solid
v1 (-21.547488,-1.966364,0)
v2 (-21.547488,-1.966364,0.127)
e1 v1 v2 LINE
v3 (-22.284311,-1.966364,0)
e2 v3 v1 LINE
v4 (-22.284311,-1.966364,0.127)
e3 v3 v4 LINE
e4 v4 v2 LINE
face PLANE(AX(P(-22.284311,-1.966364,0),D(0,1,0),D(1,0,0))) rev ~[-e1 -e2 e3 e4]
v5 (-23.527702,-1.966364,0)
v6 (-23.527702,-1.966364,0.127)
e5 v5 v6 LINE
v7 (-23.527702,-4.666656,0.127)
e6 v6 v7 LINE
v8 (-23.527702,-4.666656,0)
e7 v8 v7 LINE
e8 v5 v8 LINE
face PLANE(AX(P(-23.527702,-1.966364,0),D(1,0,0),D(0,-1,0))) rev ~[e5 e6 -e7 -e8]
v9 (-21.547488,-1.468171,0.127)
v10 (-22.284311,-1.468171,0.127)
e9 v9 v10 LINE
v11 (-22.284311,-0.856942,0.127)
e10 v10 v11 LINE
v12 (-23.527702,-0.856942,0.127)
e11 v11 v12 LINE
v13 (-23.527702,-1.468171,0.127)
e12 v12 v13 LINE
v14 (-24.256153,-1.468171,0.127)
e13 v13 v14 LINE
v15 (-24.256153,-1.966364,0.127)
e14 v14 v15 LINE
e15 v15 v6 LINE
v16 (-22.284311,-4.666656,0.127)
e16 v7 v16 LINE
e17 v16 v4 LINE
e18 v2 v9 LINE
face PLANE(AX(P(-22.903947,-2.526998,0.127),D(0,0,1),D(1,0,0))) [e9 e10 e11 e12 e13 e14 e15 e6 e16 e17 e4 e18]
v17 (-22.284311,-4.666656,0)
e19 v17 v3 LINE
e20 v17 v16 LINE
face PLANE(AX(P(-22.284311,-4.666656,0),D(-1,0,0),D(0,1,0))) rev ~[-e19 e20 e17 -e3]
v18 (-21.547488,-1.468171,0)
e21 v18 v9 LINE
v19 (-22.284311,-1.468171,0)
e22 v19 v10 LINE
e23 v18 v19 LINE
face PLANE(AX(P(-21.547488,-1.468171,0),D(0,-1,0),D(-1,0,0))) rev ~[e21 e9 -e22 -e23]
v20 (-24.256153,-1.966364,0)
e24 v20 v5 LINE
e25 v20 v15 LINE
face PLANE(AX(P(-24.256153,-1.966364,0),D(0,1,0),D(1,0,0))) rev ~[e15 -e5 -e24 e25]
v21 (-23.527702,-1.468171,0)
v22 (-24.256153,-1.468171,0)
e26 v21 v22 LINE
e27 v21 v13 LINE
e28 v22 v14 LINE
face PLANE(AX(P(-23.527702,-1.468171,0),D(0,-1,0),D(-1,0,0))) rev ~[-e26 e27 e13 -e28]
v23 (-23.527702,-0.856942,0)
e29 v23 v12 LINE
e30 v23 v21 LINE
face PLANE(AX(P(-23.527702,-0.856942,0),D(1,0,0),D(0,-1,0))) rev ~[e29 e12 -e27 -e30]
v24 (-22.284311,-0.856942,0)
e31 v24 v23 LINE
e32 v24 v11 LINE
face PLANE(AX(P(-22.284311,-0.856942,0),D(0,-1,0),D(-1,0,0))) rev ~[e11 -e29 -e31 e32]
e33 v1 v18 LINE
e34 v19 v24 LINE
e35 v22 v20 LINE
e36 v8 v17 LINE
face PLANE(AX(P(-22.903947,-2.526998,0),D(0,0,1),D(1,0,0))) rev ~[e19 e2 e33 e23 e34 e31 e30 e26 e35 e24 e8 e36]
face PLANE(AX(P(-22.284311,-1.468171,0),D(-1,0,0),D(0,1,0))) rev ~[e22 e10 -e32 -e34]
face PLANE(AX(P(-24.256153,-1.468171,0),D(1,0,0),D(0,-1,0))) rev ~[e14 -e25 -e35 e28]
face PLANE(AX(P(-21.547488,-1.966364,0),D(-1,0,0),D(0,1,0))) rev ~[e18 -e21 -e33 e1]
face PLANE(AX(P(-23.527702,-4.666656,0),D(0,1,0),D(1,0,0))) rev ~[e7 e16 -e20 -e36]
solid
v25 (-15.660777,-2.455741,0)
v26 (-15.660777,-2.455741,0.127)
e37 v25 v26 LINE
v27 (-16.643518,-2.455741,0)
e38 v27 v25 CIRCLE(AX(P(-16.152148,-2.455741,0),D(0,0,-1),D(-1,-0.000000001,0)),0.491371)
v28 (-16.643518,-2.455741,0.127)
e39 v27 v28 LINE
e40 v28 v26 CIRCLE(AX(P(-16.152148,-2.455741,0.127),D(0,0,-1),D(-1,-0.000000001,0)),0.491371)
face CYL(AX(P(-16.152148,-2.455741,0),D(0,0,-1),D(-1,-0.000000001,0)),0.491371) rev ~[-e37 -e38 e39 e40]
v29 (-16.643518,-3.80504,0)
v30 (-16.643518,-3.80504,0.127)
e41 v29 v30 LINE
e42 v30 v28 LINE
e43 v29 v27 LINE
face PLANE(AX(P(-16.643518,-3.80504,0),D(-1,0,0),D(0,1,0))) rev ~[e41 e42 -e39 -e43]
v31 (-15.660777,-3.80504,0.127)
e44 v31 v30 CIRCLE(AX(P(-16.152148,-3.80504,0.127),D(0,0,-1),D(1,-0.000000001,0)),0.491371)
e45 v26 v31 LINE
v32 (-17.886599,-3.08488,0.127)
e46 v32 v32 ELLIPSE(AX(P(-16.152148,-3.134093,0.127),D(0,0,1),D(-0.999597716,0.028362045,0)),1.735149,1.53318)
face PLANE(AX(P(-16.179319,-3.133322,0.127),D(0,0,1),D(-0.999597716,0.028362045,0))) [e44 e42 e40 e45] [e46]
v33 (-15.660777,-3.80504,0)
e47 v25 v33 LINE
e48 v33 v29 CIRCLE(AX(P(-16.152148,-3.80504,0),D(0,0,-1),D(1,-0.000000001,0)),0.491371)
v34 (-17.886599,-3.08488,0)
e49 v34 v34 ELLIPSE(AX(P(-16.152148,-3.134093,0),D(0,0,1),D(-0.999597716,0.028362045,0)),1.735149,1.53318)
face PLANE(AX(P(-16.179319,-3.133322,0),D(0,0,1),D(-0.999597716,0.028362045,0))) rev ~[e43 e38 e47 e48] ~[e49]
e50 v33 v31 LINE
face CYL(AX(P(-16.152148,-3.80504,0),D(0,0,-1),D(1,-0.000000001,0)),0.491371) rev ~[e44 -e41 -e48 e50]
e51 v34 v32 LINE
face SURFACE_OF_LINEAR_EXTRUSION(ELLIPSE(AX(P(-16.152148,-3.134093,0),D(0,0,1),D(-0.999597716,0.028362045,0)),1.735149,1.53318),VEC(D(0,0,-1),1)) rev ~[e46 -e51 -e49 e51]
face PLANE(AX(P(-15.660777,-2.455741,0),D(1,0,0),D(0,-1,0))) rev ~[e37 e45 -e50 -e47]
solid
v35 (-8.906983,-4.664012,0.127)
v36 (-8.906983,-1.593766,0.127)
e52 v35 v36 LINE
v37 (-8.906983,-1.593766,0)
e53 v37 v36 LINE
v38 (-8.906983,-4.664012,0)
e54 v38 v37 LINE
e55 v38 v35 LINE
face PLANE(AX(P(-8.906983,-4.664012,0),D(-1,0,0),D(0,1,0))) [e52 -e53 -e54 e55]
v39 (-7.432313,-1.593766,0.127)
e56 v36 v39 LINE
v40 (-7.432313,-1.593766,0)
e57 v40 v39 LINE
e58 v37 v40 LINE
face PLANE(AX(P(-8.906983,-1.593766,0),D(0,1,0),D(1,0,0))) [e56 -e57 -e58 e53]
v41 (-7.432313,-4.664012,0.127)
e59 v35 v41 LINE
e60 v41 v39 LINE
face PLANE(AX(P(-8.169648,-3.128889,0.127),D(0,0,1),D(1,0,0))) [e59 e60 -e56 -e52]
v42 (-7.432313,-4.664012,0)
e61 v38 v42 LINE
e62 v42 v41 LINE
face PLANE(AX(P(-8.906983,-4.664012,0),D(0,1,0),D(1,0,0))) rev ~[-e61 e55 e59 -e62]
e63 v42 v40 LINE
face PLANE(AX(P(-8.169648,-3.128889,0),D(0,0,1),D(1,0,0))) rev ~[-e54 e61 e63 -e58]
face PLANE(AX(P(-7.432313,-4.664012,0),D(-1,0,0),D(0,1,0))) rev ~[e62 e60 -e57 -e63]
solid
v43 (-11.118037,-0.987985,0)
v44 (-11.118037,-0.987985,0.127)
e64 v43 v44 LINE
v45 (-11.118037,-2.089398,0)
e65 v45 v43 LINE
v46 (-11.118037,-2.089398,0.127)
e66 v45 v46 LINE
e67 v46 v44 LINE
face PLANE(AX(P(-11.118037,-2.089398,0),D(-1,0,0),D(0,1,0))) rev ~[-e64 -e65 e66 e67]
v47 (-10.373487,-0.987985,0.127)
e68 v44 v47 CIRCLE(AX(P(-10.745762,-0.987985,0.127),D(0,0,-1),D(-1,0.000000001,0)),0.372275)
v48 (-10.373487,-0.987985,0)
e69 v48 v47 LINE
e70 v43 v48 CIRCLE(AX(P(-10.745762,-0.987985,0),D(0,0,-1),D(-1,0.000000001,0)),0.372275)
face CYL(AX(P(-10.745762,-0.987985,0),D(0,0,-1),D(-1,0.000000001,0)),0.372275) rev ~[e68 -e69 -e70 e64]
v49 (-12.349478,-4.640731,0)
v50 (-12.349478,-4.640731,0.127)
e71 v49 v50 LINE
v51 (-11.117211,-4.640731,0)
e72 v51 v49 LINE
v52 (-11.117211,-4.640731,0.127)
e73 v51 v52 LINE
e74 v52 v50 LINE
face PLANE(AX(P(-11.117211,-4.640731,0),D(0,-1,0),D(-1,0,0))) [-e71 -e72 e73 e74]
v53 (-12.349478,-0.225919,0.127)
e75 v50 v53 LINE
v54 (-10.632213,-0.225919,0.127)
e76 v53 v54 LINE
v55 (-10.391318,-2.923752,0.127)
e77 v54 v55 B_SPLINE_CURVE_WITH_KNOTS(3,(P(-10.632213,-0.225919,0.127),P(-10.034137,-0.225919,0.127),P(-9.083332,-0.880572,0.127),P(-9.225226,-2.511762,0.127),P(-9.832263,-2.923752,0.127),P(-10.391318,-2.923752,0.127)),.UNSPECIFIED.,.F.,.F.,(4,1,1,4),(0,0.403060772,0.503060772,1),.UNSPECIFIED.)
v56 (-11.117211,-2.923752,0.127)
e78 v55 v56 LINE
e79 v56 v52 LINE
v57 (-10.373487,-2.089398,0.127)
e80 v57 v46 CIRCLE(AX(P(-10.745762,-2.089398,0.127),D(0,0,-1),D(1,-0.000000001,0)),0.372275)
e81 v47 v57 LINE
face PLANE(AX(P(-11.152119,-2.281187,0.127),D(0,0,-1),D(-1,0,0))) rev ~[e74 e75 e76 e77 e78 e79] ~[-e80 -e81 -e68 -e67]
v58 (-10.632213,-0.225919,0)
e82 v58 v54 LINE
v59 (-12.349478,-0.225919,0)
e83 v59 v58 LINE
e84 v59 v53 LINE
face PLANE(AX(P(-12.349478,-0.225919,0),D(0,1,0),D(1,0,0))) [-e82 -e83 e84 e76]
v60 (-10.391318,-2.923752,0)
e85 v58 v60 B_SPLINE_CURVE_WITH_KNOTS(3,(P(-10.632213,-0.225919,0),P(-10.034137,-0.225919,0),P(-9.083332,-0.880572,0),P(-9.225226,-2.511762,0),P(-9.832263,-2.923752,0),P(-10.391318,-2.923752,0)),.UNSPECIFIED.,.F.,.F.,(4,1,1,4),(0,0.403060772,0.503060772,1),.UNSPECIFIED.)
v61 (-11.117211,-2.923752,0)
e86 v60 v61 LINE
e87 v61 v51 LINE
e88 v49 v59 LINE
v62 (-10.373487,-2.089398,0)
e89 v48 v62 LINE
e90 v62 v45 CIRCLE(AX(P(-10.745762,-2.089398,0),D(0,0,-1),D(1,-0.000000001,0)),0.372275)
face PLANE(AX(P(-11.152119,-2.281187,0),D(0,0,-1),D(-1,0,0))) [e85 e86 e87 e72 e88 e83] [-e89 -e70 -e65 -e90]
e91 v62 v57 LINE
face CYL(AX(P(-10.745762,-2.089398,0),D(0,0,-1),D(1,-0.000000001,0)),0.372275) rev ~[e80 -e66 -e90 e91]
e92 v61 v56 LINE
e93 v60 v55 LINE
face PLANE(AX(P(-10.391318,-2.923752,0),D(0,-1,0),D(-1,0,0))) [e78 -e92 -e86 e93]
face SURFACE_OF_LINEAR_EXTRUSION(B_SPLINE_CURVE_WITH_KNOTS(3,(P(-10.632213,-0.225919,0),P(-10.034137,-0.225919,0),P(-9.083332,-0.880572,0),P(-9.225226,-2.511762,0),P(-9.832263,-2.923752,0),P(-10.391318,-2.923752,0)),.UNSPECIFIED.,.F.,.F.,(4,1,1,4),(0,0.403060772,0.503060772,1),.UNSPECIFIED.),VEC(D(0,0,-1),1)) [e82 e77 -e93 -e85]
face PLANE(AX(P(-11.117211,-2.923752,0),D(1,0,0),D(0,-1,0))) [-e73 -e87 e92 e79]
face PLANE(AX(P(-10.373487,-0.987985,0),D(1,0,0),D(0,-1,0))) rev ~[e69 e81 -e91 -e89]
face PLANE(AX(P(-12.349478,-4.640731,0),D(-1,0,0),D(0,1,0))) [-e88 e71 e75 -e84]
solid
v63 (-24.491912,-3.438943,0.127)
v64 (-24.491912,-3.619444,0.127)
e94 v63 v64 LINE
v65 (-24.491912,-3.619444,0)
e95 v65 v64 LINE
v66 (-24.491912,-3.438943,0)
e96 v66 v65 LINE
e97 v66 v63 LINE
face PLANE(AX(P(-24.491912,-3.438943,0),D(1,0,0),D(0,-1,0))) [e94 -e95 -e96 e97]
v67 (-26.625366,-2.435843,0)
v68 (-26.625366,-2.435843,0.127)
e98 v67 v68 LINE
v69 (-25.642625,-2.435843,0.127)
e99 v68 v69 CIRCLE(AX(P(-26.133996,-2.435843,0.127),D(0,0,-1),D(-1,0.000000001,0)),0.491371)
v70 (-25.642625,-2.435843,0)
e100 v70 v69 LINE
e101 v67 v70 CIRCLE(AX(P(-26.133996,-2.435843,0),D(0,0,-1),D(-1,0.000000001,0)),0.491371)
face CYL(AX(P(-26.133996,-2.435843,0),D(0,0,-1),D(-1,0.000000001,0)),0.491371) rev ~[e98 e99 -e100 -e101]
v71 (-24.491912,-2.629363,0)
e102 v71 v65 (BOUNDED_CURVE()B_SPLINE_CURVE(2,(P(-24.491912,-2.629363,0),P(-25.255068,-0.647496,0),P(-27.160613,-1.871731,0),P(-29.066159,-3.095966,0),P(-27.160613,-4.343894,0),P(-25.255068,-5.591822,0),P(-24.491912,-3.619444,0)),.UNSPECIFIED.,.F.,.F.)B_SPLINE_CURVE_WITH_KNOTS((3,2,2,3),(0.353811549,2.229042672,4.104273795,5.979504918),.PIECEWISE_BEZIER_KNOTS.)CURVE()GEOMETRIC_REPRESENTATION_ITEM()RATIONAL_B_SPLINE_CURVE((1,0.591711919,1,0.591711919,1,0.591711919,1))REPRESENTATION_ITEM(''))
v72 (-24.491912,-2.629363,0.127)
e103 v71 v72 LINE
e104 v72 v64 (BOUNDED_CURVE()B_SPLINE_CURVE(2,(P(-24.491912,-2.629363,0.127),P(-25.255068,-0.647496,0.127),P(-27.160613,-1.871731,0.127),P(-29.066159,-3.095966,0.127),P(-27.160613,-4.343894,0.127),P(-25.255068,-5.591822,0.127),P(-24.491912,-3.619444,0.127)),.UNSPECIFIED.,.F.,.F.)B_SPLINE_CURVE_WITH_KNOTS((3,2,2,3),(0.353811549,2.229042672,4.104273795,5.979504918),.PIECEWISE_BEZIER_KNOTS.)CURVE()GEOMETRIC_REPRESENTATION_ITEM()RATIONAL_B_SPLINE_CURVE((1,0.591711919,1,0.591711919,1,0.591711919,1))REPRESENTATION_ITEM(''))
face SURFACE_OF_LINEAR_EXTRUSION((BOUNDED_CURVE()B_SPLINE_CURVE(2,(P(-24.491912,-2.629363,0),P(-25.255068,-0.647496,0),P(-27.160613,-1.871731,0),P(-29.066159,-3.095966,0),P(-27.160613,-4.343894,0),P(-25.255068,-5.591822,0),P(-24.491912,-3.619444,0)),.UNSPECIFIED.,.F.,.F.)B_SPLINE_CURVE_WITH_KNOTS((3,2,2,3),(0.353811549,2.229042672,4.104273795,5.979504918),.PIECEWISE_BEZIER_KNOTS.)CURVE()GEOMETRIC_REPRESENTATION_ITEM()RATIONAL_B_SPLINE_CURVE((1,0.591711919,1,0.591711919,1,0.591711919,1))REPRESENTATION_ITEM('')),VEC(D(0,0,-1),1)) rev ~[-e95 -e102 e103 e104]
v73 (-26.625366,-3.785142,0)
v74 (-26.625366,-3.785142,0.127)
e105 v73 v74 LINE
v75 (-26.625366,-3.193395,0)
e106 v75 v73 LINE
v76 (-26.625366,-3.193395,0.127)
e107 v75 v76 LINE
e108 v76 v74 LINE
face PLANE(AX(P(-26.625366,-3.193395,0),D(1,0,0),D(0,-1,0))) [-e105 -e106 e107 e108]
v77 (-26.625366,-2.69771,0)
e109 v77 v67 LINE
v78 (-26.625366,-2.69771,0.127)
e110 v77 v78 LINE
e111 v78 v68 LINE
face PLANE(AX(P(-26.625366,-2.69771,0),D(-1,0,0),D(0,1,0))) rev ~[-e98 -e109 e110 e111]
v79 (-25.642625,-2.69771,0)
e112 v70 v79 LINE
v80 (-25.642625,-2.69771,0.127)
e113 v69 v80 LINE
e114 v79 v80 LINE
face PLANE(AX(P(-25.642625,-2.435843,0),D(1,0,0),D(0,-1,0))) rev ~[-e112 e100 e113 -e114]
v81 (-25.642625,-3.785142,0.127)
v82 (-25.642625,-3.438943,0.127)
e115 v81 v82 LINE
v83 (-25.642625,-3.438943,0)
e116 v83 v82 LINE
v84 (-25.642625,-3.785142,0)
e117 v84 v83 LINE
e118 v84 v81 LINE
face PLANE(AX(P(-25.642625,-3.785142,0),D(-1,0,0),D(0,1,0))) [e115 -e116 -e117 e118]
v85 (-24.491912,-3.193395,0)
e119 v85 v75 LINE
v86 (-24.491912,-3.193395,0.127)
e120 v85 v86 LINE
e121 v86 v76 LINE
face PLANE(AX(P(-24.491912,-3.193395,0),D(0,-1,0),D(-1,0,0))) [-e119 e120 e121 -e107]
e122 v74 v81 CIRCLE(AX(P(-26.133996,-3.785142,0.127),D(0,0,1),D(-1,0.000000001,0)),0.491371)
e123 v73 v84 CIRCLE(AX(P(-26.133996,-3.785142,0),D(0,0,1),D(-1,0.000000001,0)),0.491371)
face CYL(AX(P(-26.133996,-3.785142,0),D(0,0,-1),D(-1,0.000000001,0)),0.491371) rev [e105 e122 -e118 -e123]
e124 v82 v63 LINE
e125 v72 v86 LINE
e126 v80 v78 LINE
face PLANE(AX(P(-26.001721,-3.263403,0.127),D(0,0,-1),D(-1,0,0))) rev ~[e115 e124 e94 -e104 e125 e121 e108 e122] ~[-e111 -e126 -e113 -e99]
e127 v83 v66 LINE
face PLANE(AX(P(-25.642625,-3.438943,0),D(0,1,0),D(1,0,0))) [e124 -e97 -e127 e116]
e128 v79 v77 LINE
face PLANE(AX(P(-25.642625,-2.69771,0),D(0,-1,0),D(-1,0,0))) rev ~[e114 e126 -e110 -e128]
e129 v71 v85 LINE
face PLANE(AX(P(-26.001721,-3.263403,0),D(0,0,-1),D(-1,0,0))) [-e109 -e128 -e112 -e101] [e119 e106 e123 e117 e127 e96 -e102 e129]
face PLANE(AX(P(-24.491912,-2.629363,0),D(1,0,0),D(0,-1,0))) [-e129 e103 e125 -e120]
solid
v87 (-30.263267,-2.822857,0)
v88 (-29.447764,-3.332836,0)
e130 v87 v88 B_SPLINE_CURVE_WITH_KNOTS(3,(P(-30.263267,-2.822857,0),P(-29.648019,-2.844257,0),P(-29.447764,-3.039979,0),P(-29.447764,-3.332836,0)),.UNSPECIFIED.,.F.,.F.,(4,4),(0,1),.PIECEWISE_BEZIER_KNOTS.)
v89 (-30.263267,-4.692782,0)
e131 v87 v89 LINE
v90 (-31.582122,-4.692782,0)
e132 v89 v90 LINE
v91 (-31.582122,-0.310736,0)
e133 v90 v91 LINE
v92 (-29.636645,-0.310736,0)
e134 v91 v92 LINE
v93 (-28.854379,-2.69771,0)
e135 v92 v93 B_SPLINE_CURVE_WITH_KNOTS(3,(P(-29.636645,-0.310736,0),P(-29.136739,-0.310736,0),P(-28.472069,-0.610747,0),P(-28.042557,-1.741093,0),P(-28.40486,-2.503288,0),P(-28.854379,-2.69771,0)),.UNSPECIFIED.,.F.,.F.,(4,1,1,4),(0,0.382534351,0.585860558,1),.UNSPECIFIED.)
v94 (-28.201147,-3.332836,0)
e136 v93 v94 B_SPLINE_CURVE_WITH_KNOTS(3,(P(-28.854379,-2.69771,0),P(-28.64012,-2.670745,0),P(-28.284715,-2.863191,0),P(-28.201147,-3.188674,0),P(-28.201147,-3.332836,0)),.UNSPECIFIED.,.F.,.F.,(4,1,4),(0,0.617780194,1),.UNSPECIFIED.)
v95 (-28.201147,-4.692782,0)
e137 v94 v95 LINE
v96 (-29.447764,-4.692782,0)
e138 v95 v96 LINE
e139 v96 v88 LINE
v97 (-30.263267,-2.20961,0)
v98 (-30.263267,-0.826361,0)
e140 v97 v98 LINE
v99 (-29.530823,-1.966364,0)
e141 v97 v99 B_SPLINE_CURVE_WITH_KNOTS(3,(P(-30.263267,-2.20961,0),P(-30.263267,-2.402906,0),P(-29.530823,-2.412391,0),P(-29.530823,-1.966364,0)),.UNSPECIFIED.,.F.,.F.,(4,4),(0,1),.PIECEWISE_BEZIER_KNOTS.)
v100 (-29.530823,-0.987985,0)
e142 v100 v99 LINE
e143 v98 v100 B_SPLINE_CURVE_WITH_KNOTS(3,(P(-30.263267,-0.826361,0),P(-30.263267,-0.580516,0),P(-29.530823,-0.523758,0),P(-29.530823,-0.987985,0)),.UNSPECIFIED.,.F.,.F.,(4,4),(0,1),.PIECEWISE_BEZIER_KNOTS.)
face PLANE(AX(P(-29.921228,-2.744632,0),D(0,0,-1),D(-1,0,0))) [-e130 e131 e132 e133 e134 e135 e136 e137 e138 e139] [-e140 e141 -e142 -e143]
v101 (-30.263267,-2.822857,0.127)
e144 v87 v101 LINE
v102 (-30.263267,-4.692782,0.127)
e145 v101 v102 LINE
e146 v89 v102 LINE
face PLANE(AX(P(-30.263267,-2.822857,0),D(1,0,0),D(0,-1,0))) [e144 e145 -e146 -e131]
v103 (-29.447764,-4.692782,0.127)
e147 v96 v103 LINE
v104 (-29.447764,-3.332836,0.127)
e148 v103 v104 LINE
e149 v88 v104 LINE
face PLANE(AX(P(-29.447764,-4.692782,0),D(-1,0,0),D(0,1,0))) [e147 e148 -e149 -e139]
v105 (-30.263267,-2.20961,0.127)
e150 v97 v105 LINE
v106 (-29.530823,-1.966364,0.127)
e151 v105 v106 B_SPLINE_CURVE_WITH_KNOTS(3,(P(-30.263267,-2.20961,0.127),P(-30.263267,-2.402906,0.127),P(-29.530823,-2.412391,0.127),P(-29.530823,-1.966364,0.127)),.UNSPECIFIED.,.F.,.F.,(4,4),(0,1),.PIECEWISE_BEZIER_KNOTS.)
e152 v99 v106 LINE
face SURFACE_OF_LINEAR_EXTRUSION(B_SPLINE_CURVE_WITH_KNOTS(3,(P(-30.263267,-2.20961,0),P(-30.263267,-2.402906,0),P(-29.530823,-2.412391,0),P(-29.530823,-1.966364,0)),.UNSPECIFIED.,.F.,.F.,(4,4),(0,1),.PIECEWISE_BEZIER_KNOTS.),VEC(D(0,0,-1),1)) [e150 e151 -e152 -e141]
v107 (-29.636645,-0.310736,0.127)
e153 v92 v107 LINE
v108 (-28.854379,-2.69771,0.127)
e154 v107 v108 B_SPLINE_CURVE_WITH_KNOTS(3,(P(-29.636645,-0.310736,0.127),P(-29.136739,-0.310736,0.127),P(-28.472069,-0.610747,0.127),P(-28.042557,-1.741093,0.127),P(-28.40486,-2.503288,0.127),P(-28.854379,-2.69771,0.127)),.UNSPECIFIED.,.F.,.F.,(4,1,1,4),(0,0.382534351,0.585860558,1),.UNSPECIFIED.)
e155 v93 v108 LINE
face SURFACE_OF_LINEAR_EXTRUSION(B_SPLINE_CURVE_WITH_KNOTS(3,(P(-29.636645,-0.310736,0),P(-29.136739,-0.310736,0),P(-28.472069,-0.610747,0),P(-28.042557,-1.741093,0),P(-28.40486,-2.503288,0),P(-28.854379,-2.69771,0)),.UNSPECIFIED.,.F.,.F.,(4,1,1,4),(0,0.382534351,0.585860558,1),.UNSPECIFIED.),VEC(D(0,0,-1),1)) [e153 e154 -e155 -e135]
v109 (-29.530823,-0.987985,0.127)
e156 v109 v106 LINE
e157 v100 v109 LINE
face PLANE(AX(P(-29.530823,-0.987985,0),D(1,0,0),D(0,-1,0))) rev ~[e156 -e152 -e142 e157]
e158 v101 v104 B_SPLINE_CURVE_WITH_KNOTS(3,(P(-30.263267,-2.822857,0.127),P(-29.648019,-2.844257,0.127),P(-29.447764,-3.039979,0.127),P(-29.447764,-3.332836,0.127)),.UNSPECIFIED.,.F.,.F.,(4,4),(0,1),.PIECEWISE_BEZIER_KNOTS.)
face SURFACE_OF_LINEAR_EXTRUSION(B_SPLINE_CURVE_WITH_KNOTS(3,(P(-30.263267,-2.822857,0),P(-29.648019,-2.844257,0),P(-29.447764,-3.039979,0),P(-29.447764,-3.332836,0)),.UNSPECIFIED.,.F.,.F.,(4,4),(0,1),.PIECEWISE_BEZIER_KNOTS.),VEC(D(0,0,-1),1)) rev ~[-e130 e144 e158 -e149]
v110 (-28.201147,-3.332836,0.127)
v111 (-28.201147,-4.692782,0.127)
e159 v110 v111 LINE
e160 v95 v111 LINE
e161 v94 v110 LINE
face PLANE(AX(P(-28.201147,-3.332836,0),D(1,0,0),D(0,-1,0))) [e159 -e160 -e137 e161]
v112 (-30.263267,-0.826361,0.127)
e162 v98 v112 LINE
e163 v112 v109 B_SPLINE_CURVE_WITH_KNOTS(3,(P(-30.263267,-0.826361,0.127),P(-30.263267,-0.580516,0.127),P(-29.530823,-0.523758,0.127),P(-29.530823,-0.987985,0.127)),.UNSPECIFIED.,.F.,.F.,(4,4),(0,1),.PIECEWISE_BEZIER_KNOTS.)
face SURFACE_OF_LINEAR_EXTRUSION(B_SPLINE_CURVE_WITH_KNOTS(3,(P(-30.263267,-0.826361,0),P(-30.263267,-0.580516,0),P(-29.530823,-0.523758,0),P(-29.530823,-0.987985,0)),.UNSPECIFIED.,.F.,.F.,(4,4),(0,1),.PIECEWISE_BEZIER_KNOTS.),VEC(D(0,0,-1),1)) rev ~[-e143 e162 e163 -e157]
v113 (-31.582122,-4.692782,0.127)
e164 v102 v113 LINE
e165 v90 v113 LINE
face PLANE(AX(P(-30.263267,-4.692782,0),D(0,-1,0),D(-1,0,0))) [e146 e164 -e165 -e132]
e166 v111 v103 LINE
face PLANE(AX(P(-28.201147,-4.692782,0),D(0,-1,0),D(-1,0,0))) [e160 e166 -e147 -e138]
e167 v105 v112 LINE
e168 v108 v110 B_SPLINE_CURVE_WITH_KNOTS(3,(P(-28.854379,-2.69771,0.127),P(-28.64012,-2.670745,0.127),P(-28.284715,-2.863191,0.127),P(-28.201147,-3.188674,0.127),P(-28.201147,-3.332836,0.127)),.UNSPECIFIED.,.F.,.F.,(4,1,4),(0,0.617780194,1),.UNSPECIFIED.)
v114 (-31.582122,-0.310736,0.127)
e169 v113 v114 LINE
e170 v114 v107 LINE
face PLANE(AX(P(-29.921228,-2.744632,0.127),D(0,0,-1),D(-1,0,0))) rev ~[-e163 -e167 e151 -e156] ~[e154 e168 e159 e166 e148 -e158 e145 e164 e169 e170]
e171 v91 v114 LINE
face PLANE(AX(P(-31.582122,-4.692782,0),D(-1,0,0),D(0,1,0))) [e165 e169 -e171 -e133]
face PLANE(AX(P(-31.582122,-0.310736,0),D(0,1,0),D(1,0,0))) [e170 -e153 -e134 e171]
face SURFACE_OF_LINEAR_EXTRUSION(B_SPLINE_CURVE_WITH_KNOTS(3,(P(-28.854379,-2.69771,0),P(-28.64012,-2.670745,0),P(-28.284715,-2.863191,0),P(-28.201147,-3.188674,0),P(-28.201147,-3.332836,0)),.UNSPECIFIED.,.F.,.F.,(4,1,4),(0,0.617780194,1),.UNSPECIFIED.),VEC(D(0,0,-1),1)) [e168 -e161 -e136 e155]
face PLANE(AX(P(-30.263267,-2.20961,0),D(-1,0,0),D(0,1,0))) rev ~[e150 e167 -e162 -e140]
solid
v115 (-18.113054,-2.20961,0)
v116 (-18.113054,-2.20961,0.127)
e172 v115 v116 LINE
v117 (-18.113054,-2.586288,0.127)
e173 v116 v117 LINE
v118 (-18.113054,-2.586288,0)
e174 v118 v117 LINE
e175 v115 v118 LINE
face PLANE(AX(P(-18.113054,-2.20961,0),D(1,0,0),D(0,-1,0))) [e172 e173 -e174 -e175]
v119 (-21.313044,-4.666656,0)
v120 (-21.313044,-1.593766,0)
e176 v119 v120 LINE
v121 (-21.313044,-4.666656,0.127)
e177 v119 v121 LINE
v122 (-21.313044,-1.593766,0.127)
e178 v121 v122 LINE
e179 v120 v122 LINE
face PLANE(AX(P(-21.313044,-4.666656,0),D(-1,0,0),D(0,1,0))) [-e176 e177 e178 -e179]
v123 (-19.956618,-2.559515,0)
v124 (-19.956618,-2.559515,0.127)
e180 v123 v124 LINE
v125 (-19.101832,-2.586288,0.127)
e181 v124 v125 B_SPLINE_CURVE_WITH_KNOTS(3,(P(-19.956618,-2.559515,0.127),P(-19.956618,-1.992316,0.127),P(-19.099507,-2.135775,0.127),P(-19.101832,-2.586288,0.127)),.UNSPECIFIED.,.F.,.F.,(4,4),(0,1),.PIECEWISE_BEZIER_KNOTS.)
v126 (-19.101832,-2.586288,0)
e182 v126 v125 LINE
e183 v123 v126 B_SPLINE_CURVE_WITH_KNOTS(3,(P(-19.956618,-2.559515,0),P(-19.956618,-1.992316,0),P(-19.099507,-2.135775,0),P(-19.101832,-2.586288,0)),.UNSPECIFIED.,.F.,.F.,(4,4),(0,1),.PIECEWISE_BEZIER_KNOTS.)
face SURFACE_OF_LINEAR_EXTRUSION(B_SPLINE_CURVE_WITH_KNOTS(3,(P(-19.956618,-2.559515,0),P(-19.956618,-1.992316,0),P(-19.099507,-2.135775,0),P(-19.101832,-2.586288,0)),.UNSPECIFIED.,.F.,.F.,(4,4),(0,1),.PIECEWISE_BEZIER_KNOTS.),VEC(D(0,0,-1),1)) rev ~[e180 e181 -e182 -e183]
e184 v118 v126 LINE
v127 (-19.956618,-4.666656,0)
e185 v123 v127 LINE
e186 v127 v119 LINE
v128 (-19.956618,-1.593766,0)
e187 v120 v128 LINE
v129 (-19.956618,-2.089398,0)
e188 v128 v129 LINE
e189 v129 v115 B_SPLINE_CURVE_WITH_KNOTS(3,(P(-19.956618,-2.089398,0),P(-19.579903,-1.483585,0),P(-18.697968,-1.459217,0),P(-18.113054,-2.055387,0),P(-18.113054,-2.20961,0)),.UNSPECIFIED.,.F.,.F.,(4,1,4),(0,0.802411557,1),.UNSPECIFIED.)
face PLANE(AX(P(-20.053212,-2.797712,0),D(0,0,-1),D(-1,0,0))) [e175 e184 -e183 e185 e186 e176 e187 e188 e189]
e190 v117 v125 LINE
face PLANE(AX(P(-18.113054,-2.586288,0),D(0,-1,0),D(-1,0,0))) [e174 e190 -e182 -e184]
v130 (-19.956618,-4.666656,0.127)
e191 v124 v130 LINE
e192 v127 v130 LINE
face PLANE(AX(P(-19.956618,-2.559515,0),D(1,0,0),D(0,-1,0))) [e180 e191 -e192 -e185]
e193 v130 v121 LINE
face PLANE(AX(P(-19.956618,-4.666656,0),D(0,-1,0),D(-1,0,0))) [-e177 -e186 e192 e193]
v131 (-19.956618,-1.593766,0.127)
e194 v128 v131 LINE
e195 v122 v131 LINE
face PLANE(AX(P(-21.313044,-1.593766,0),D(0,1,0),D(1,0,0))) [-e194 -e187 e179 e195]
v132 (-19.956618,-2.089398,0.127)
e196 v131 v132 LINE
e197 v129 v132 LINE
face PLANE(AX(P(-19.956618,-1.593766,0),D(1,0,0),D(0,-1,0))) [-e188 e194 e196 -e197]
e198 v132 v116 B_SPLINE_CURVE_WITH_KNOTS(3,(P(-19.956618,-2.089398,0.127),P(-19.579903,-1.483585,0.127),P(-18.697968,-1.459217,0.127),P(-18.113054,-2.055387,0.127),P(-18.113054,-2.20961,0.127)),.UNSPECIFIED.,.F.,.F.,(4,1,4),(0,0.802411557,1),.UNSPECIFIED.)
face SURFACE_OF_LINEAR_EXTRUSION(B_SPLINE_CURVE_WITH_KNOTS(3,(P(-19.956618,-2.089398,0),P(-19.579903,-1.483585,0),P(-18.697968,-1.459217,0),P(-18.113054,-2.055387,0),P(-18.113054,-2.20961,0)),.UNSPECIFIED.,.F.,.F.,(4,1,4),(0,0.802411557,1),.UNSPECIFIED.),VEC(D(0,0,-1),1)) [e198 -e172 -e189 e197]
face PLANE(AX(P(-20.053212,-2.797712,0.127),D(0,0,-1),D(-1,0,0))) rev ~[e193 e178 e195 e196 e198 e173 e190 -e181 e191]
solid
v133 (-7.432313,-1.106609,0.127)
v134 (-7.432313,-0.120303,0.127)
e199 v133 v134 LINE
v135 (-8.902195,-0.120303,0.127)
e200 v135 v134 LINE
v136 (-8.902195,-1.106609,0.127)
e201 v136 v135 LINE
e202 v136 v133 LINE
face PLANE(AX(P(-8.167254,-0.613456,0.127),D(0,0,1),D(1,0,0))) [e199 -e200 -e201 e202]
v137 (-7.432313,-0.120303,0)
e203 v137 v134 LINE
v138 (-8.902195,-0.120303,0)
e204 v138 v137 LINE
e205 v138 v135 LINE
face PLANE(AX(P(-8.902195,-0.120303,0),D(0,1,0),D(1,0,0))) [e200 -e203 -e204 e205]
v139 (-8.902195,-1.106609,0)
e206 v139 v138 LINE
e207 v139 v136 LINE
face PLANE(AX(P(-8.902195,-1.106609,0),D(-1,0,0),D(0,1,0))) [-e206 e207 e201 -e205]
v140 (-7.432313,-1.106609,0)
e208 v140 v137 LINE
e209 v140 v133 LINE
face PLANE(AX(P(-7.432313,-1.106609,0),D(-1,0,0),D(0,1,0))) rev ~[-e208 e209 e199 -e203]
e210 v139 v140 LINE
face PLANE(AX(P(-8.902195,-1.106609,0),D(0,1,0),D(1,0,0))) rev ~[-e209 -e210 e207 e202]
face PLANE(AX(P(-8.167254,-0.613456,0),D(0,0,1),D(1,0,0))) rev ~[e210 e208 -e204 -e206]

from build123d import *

# Parameters (mm, degrees)
SKETCH1_RX            = 1.735148958
SKETCH1_RY            = 1.533180203
BOSS_EXTRUDE1_DEPTH   = 0.127
BOSS_EXTRUDE1_2_DEPTH = 0.127
BOSS_EXTRUDE1_3_DEPTH = 0.127
BOSS_EXTRUDE1_4_DEPTH = 0.127
BOSS_EXTRUDE1_5_DEPTH = 0.127
SKETCH1_W             = 1.469882779
SKETCH1_H             = 0.986305708
BOSS_EXTRUDE1_6_DEPTH = 0.127
SKETCH1_W_2           = 1.474670671
SKETCH1_H_2           = 3.070246412
BOSS_EXTRUDE1_7_DEPTH = 0.127
BOSS_EXTRUDE1_8_DEPTH = 0.127


with BuildPart() as part:
    # Sketch1 → Boss-Extrude1 (new body)
    with BuildSketch(Plane.XY):
        with Locations(Location((-16.152147606, -3.134092867), (0, 0, 178.374756608))):
            Ellipse(SKETCH1_RX, SKETCH1_RY)
        with BuildLine():
            Line((-15.660776991, -2.455740515), (-15.660776991, -3.805039669))
            ThreePointArc((-15.660776991, -3.805039669), (-16.152147606, -4.296410283), (-16.64351822, -3.805039669))
            Line((-16.64351822, -3.805039669), (-16.64351822, -2.455740515))
            ThreePointArc((-16.64351822, -2.455740515), (-16.152147606, -1.9643699), (-15.660776991, -2.455740515))
        make_face(mode=Mode.SUBTRACT)
    extrude(amount=BOSS_EXTRUDE1_DEPTH)


with BuildPart() as body_2:
    # Sketch1 → Boss-Extrude1 2 (new body)
    with BuildSketch(Plane.XY):
        with BuildLine():
            Line((-30.263267279, -2.822856992), (-30.263267279, -4.692781704))
            Line((-30.263267279, -4.692781704), (-31.582122128, -4.692781704))
            Line((-31.582122128, -4.692781704), (-31.582122128, -0.310735913))
            Line((-31.582122128, -0.310735913), (-29.636644902, -0.310735913))
            add(Edge.make_bspline(
                [(-29.636644902, -0.310735913), (-29.136739082, -0.310735913), (-28.472069294, -0.610746925), (-28.042557497, -1.741092947), (-28.404859995, -2.503287935), (-28.854379149, -2.697710409)],
                knots=[0, 0, 0, 0, 0.382534351, 0.585860558, 1, 1, 1, 1], degree=3))
            add(Edge.make_bspline(
                [(-28.854379149, -2.697710409), (-28.640120437, -2.670744605), (-28.284715318, -2.86319074), (-28.201147143, -3.18867445), (-28.201147143, -3.332836459)],
                knots=[0, 0, 0, 0, 0.617780194, 1, 1, 1, 1], degree=3))
            Line((-28.201147143, -3.332836459), (-28.201147143, -4.692781704))
            Line((-28.201147143, -4.692781704), (-29.447763618, -4.692781704))
            Line((-29.447763618, -4.692781704), (-29.447763618, -3.332836459))
            add(Edge.make_bspline(
                [(-30.263267279, -2.822856992), (-29.648018977, -2.844256705), (-29.447763618, -3.039979499), (-29.447763618, -3.332836459)],
                knots=[0, 0, 0, 0, 1, 1, 1, 1], degree=3))
        make_face()
        with BuildLine():
            Line((-30.263267279, -2.209609755), (-30.263267279, -0.826360576))
            add(Edge.make_bspline(
                [(-30.263267279, -0.826360576), (-30.263267279, -0.580516398), (-29.530822817, -0.52375832), (-29.530822817, -0.987984864)],
                knots=[0, 0, 0, 0, 1, 1, 1, 1], degree=3))
            Line((-29.530822817, -0.987984864), (-29.530822817, -1.966364271))
            add(Edge.make_bspline(
                [(-30.263267279, -2.209609755), (-30.263267279, -2.402906352), (-29.530822817, -2.412391041), (-29.530822817, -1.966364271)],
                knots=[0, 0, 0, 0, 1, 1, 1, 1], degree=3))
        make_face(mode=Mode.SUBTRACT)
    extrude(amount=BOSS_EXTRUDE1_2_DEPTH)


with BuildPart() as body_3:
    # Sketch1 → Boss-Extrude1 3 (new body)
    with BuildSketch(Plane.XY):
        Polygon((-23.527701666, -1.966364271), (-23.527701666, -4.666656297), (-22.284311384, -4.666656297), (-22.284311384, -1.966364271), (-21.547487513, -1.966364271), (-21.547487513, -1.468170858), (-22.284311384, -1.468170858), (-22.284311384, -0.856941966), (-23.527701666, -0.856941966), (-23.527701666, -1.468170858), (-24.256152538, -1.468170858), (-24.256152538, -1.966364271), align=None)
    extrude(amount=BOSS_EXTRUDE1_3_DEPTH)


with BuildPart() as body_4:
    # Sketch1 → Boss-Extrude1 4 (new body)
    with BuildSketch(Plane.XY):
        with BuildLine():
            Line((-21.313043555, -1.593765836), (-19.956617793, -1.593765836))
            Line((-19.956617793, -1.593765836), (-19.956617793, -2.089398335))
            add(Edge.make_bspline(
                [(-19.956617793, -2.089398335), (-19.579903191, -1.483585225), (-18.697968223, -1.459217489), (-18.113054457, -2.055386984), (-18.113054457, -2.209609755)],
                knots=[0, 0, 0, 0, 0.802411557, 1, 1, 1, 1], degree=3))
            Line((-18.113054457, -2.209609755), (-18.113054457, -2.586287503))
            Line((-18.113054457, -2.586287503), (-19.10183212, -2.586287503))
            add(Edge.make_bspline(
                [(-19.956617793, -2.559515195), (-19.956617793, -1.992315617), (-19.099507004, -2.135775384), (-19.10183212, -2.586287503)],
                knots=[0, 0, 0, 0, 1, 1, 1, 1], degree=3))
            Line((-19.956617793, -2.559515195), (-19.956617793, -4.666656297))
            Line((-19.956617793, -4.666656297), (-21.313043555, -4.666656297))
            Line((-21.313043555, -4.666656297), (-21.313043555, -1.593765836))
        make_face()
    extrude(amount=BOSS_EXTRUDE1_4_DEPTH)


with BuildPart() as body_5:
    # Sketch1 → Boss-Extrude1 5 (new body)
    with BuildSketch(Plane.XY):
        with BuildLine():
            Line((-12.349477508, -0.225919474), (-10.632213364, -0.225919474))
            add(Edge.make_bspline(
                [(-10.632213364, -0.225919474), (-10.034137162, -0.225919474), (-9.083331902, -0.880571914), (-9.225226195, -2.511762322), (-9.832263332, -2.923751991), (-10.391318264, -2.923751991)],
                knots=[0, 0, 0, 0, 0.403060772, 0.503060772, 1, 1, 1, 1], degree=3))
            Line((-10.391318264, -2.923751991), (-11.117211162, -2.923751991))
            Line((-11.117211162, -2.923751991), (-11.117211162, -4.640730661))
            Line((-11.117211162, -4.640730661), (-12.349477508, -4.640730661))
            Line((-12.349477508, -4.640730661), (-12.349477508, -0.225919474))
        make_face()
        with BuildLine():
            Line((-10.373486814, -0.987984864), (-10.373486814, -2.089398335))
            ThreePointArc((-10.373486814, -2.089398335), (-10.745761872, -2.461673393), (-11.118036931, -2.089398335))
            Line((-11.118036931, -2.089398335), (-11.118036931, -0.987984864))
            ThreePointArc((-11.118036931, -0.987984864), (-10.745761872, -0.615709806), (-10.373486814, -0.987984864))
        make_face(mode=Mode.SUBTRACT)
    extrude(amount=BOSS_EXTRUDE1_5_DEPTH)


with BuildPart() as body_6:
    # Sketch1 → Boss-Extrude1 6 (new body)
    with BuildSketch(Plane.XY):
        with Locations((-8.16725403, -0.613455794)):
            Rectangle(SKETCH1_W, SKETCH1_H)
    extrude(amount=BOSS_EXTRUDE1_6_DEPTH)


with BuildPart() as body_7:
    # Sketch1 → Boss-Extrude1 7 (new body)
    with BuildSketch(Plane.XY):
        with Locations((-8.169647976, -3.128889042)):
            Rectangle(SKETCH1_W_2, SKETCH1_H_2)
    extrude(amount=BOSS_EXTRUDE1_7_DEPTH)


with BuildPart() as body_8:
    # Sketch1 → Boss-Extrude1 8 (new body)
    with BuildSketch(Plane.XY):
        with BuildLine():
            Line((-24.491912245, -2.629363052), (-24.491912245, -3.193395132))
            Line((-24.491912245, -3.193395132), (-26.625366229, -3.193395132))
            Line((-26.625366229, -3.193395132), (-26.625366229, -3.785141847))
            ThreePointArc((-26.625366229, -3.785141847), (-26.133995615, -4.276512462), (-25.642625, -3.785141847))
            Line((-25.642625, -3.785141847), (-25.642625, -3.438942656))
            Line((-25.642625, -3.438942656), (-24.491912245, -3.438942656))
            Line((-24.491912245, -3.438942656), (-24.491912245, -3.619444468))
            add(Edge.make_bspline(
                [(-24.491912245, -2.629363052), (-25.255067925, -0.64749638), (-27.160613393, -1.871731189), (-29.066158861, -3.095965998), (-27.160613393, -4.343894085), (-25.255067925, -5.591822172), (-24.491912245, -3.619444468)],
                knots=[0.353811549, 0.353811549, 0.353811549, 2.229042672, 2.229042672, 4.104273795, 4.104273795, 5.979504918, 5.979504918, 5.979504918], degree=2, weights=[1, 0.591711919, 1, 0.591711919, 1, 0.591711919, 1]))
        make_face()
        with BuildLine():
            Line((-25.642625, -2.435842693), (-25.642625, -2.697710409))
            Line((-25.642625, -2.697710409), (-26.625366229, -2.697710409))
            Line((-26.625366229, -2.697710409), (-26.625366229, -2.435842693))
            ThreePointArc((-26.625366229, -2.435842693), (-26.133995615, -1.944472079), (-25.642625, -2.435842693))
        make_face(mode=Mode.SUBTRACT)
    extrude(amount=BOSS_EXTRUDE1_8_DEPTH)


solid = Compound([part.part, body_2.part, body_3.part, body_4.part, body_5.part, body_6.part, body_7.part, body_8.part])
